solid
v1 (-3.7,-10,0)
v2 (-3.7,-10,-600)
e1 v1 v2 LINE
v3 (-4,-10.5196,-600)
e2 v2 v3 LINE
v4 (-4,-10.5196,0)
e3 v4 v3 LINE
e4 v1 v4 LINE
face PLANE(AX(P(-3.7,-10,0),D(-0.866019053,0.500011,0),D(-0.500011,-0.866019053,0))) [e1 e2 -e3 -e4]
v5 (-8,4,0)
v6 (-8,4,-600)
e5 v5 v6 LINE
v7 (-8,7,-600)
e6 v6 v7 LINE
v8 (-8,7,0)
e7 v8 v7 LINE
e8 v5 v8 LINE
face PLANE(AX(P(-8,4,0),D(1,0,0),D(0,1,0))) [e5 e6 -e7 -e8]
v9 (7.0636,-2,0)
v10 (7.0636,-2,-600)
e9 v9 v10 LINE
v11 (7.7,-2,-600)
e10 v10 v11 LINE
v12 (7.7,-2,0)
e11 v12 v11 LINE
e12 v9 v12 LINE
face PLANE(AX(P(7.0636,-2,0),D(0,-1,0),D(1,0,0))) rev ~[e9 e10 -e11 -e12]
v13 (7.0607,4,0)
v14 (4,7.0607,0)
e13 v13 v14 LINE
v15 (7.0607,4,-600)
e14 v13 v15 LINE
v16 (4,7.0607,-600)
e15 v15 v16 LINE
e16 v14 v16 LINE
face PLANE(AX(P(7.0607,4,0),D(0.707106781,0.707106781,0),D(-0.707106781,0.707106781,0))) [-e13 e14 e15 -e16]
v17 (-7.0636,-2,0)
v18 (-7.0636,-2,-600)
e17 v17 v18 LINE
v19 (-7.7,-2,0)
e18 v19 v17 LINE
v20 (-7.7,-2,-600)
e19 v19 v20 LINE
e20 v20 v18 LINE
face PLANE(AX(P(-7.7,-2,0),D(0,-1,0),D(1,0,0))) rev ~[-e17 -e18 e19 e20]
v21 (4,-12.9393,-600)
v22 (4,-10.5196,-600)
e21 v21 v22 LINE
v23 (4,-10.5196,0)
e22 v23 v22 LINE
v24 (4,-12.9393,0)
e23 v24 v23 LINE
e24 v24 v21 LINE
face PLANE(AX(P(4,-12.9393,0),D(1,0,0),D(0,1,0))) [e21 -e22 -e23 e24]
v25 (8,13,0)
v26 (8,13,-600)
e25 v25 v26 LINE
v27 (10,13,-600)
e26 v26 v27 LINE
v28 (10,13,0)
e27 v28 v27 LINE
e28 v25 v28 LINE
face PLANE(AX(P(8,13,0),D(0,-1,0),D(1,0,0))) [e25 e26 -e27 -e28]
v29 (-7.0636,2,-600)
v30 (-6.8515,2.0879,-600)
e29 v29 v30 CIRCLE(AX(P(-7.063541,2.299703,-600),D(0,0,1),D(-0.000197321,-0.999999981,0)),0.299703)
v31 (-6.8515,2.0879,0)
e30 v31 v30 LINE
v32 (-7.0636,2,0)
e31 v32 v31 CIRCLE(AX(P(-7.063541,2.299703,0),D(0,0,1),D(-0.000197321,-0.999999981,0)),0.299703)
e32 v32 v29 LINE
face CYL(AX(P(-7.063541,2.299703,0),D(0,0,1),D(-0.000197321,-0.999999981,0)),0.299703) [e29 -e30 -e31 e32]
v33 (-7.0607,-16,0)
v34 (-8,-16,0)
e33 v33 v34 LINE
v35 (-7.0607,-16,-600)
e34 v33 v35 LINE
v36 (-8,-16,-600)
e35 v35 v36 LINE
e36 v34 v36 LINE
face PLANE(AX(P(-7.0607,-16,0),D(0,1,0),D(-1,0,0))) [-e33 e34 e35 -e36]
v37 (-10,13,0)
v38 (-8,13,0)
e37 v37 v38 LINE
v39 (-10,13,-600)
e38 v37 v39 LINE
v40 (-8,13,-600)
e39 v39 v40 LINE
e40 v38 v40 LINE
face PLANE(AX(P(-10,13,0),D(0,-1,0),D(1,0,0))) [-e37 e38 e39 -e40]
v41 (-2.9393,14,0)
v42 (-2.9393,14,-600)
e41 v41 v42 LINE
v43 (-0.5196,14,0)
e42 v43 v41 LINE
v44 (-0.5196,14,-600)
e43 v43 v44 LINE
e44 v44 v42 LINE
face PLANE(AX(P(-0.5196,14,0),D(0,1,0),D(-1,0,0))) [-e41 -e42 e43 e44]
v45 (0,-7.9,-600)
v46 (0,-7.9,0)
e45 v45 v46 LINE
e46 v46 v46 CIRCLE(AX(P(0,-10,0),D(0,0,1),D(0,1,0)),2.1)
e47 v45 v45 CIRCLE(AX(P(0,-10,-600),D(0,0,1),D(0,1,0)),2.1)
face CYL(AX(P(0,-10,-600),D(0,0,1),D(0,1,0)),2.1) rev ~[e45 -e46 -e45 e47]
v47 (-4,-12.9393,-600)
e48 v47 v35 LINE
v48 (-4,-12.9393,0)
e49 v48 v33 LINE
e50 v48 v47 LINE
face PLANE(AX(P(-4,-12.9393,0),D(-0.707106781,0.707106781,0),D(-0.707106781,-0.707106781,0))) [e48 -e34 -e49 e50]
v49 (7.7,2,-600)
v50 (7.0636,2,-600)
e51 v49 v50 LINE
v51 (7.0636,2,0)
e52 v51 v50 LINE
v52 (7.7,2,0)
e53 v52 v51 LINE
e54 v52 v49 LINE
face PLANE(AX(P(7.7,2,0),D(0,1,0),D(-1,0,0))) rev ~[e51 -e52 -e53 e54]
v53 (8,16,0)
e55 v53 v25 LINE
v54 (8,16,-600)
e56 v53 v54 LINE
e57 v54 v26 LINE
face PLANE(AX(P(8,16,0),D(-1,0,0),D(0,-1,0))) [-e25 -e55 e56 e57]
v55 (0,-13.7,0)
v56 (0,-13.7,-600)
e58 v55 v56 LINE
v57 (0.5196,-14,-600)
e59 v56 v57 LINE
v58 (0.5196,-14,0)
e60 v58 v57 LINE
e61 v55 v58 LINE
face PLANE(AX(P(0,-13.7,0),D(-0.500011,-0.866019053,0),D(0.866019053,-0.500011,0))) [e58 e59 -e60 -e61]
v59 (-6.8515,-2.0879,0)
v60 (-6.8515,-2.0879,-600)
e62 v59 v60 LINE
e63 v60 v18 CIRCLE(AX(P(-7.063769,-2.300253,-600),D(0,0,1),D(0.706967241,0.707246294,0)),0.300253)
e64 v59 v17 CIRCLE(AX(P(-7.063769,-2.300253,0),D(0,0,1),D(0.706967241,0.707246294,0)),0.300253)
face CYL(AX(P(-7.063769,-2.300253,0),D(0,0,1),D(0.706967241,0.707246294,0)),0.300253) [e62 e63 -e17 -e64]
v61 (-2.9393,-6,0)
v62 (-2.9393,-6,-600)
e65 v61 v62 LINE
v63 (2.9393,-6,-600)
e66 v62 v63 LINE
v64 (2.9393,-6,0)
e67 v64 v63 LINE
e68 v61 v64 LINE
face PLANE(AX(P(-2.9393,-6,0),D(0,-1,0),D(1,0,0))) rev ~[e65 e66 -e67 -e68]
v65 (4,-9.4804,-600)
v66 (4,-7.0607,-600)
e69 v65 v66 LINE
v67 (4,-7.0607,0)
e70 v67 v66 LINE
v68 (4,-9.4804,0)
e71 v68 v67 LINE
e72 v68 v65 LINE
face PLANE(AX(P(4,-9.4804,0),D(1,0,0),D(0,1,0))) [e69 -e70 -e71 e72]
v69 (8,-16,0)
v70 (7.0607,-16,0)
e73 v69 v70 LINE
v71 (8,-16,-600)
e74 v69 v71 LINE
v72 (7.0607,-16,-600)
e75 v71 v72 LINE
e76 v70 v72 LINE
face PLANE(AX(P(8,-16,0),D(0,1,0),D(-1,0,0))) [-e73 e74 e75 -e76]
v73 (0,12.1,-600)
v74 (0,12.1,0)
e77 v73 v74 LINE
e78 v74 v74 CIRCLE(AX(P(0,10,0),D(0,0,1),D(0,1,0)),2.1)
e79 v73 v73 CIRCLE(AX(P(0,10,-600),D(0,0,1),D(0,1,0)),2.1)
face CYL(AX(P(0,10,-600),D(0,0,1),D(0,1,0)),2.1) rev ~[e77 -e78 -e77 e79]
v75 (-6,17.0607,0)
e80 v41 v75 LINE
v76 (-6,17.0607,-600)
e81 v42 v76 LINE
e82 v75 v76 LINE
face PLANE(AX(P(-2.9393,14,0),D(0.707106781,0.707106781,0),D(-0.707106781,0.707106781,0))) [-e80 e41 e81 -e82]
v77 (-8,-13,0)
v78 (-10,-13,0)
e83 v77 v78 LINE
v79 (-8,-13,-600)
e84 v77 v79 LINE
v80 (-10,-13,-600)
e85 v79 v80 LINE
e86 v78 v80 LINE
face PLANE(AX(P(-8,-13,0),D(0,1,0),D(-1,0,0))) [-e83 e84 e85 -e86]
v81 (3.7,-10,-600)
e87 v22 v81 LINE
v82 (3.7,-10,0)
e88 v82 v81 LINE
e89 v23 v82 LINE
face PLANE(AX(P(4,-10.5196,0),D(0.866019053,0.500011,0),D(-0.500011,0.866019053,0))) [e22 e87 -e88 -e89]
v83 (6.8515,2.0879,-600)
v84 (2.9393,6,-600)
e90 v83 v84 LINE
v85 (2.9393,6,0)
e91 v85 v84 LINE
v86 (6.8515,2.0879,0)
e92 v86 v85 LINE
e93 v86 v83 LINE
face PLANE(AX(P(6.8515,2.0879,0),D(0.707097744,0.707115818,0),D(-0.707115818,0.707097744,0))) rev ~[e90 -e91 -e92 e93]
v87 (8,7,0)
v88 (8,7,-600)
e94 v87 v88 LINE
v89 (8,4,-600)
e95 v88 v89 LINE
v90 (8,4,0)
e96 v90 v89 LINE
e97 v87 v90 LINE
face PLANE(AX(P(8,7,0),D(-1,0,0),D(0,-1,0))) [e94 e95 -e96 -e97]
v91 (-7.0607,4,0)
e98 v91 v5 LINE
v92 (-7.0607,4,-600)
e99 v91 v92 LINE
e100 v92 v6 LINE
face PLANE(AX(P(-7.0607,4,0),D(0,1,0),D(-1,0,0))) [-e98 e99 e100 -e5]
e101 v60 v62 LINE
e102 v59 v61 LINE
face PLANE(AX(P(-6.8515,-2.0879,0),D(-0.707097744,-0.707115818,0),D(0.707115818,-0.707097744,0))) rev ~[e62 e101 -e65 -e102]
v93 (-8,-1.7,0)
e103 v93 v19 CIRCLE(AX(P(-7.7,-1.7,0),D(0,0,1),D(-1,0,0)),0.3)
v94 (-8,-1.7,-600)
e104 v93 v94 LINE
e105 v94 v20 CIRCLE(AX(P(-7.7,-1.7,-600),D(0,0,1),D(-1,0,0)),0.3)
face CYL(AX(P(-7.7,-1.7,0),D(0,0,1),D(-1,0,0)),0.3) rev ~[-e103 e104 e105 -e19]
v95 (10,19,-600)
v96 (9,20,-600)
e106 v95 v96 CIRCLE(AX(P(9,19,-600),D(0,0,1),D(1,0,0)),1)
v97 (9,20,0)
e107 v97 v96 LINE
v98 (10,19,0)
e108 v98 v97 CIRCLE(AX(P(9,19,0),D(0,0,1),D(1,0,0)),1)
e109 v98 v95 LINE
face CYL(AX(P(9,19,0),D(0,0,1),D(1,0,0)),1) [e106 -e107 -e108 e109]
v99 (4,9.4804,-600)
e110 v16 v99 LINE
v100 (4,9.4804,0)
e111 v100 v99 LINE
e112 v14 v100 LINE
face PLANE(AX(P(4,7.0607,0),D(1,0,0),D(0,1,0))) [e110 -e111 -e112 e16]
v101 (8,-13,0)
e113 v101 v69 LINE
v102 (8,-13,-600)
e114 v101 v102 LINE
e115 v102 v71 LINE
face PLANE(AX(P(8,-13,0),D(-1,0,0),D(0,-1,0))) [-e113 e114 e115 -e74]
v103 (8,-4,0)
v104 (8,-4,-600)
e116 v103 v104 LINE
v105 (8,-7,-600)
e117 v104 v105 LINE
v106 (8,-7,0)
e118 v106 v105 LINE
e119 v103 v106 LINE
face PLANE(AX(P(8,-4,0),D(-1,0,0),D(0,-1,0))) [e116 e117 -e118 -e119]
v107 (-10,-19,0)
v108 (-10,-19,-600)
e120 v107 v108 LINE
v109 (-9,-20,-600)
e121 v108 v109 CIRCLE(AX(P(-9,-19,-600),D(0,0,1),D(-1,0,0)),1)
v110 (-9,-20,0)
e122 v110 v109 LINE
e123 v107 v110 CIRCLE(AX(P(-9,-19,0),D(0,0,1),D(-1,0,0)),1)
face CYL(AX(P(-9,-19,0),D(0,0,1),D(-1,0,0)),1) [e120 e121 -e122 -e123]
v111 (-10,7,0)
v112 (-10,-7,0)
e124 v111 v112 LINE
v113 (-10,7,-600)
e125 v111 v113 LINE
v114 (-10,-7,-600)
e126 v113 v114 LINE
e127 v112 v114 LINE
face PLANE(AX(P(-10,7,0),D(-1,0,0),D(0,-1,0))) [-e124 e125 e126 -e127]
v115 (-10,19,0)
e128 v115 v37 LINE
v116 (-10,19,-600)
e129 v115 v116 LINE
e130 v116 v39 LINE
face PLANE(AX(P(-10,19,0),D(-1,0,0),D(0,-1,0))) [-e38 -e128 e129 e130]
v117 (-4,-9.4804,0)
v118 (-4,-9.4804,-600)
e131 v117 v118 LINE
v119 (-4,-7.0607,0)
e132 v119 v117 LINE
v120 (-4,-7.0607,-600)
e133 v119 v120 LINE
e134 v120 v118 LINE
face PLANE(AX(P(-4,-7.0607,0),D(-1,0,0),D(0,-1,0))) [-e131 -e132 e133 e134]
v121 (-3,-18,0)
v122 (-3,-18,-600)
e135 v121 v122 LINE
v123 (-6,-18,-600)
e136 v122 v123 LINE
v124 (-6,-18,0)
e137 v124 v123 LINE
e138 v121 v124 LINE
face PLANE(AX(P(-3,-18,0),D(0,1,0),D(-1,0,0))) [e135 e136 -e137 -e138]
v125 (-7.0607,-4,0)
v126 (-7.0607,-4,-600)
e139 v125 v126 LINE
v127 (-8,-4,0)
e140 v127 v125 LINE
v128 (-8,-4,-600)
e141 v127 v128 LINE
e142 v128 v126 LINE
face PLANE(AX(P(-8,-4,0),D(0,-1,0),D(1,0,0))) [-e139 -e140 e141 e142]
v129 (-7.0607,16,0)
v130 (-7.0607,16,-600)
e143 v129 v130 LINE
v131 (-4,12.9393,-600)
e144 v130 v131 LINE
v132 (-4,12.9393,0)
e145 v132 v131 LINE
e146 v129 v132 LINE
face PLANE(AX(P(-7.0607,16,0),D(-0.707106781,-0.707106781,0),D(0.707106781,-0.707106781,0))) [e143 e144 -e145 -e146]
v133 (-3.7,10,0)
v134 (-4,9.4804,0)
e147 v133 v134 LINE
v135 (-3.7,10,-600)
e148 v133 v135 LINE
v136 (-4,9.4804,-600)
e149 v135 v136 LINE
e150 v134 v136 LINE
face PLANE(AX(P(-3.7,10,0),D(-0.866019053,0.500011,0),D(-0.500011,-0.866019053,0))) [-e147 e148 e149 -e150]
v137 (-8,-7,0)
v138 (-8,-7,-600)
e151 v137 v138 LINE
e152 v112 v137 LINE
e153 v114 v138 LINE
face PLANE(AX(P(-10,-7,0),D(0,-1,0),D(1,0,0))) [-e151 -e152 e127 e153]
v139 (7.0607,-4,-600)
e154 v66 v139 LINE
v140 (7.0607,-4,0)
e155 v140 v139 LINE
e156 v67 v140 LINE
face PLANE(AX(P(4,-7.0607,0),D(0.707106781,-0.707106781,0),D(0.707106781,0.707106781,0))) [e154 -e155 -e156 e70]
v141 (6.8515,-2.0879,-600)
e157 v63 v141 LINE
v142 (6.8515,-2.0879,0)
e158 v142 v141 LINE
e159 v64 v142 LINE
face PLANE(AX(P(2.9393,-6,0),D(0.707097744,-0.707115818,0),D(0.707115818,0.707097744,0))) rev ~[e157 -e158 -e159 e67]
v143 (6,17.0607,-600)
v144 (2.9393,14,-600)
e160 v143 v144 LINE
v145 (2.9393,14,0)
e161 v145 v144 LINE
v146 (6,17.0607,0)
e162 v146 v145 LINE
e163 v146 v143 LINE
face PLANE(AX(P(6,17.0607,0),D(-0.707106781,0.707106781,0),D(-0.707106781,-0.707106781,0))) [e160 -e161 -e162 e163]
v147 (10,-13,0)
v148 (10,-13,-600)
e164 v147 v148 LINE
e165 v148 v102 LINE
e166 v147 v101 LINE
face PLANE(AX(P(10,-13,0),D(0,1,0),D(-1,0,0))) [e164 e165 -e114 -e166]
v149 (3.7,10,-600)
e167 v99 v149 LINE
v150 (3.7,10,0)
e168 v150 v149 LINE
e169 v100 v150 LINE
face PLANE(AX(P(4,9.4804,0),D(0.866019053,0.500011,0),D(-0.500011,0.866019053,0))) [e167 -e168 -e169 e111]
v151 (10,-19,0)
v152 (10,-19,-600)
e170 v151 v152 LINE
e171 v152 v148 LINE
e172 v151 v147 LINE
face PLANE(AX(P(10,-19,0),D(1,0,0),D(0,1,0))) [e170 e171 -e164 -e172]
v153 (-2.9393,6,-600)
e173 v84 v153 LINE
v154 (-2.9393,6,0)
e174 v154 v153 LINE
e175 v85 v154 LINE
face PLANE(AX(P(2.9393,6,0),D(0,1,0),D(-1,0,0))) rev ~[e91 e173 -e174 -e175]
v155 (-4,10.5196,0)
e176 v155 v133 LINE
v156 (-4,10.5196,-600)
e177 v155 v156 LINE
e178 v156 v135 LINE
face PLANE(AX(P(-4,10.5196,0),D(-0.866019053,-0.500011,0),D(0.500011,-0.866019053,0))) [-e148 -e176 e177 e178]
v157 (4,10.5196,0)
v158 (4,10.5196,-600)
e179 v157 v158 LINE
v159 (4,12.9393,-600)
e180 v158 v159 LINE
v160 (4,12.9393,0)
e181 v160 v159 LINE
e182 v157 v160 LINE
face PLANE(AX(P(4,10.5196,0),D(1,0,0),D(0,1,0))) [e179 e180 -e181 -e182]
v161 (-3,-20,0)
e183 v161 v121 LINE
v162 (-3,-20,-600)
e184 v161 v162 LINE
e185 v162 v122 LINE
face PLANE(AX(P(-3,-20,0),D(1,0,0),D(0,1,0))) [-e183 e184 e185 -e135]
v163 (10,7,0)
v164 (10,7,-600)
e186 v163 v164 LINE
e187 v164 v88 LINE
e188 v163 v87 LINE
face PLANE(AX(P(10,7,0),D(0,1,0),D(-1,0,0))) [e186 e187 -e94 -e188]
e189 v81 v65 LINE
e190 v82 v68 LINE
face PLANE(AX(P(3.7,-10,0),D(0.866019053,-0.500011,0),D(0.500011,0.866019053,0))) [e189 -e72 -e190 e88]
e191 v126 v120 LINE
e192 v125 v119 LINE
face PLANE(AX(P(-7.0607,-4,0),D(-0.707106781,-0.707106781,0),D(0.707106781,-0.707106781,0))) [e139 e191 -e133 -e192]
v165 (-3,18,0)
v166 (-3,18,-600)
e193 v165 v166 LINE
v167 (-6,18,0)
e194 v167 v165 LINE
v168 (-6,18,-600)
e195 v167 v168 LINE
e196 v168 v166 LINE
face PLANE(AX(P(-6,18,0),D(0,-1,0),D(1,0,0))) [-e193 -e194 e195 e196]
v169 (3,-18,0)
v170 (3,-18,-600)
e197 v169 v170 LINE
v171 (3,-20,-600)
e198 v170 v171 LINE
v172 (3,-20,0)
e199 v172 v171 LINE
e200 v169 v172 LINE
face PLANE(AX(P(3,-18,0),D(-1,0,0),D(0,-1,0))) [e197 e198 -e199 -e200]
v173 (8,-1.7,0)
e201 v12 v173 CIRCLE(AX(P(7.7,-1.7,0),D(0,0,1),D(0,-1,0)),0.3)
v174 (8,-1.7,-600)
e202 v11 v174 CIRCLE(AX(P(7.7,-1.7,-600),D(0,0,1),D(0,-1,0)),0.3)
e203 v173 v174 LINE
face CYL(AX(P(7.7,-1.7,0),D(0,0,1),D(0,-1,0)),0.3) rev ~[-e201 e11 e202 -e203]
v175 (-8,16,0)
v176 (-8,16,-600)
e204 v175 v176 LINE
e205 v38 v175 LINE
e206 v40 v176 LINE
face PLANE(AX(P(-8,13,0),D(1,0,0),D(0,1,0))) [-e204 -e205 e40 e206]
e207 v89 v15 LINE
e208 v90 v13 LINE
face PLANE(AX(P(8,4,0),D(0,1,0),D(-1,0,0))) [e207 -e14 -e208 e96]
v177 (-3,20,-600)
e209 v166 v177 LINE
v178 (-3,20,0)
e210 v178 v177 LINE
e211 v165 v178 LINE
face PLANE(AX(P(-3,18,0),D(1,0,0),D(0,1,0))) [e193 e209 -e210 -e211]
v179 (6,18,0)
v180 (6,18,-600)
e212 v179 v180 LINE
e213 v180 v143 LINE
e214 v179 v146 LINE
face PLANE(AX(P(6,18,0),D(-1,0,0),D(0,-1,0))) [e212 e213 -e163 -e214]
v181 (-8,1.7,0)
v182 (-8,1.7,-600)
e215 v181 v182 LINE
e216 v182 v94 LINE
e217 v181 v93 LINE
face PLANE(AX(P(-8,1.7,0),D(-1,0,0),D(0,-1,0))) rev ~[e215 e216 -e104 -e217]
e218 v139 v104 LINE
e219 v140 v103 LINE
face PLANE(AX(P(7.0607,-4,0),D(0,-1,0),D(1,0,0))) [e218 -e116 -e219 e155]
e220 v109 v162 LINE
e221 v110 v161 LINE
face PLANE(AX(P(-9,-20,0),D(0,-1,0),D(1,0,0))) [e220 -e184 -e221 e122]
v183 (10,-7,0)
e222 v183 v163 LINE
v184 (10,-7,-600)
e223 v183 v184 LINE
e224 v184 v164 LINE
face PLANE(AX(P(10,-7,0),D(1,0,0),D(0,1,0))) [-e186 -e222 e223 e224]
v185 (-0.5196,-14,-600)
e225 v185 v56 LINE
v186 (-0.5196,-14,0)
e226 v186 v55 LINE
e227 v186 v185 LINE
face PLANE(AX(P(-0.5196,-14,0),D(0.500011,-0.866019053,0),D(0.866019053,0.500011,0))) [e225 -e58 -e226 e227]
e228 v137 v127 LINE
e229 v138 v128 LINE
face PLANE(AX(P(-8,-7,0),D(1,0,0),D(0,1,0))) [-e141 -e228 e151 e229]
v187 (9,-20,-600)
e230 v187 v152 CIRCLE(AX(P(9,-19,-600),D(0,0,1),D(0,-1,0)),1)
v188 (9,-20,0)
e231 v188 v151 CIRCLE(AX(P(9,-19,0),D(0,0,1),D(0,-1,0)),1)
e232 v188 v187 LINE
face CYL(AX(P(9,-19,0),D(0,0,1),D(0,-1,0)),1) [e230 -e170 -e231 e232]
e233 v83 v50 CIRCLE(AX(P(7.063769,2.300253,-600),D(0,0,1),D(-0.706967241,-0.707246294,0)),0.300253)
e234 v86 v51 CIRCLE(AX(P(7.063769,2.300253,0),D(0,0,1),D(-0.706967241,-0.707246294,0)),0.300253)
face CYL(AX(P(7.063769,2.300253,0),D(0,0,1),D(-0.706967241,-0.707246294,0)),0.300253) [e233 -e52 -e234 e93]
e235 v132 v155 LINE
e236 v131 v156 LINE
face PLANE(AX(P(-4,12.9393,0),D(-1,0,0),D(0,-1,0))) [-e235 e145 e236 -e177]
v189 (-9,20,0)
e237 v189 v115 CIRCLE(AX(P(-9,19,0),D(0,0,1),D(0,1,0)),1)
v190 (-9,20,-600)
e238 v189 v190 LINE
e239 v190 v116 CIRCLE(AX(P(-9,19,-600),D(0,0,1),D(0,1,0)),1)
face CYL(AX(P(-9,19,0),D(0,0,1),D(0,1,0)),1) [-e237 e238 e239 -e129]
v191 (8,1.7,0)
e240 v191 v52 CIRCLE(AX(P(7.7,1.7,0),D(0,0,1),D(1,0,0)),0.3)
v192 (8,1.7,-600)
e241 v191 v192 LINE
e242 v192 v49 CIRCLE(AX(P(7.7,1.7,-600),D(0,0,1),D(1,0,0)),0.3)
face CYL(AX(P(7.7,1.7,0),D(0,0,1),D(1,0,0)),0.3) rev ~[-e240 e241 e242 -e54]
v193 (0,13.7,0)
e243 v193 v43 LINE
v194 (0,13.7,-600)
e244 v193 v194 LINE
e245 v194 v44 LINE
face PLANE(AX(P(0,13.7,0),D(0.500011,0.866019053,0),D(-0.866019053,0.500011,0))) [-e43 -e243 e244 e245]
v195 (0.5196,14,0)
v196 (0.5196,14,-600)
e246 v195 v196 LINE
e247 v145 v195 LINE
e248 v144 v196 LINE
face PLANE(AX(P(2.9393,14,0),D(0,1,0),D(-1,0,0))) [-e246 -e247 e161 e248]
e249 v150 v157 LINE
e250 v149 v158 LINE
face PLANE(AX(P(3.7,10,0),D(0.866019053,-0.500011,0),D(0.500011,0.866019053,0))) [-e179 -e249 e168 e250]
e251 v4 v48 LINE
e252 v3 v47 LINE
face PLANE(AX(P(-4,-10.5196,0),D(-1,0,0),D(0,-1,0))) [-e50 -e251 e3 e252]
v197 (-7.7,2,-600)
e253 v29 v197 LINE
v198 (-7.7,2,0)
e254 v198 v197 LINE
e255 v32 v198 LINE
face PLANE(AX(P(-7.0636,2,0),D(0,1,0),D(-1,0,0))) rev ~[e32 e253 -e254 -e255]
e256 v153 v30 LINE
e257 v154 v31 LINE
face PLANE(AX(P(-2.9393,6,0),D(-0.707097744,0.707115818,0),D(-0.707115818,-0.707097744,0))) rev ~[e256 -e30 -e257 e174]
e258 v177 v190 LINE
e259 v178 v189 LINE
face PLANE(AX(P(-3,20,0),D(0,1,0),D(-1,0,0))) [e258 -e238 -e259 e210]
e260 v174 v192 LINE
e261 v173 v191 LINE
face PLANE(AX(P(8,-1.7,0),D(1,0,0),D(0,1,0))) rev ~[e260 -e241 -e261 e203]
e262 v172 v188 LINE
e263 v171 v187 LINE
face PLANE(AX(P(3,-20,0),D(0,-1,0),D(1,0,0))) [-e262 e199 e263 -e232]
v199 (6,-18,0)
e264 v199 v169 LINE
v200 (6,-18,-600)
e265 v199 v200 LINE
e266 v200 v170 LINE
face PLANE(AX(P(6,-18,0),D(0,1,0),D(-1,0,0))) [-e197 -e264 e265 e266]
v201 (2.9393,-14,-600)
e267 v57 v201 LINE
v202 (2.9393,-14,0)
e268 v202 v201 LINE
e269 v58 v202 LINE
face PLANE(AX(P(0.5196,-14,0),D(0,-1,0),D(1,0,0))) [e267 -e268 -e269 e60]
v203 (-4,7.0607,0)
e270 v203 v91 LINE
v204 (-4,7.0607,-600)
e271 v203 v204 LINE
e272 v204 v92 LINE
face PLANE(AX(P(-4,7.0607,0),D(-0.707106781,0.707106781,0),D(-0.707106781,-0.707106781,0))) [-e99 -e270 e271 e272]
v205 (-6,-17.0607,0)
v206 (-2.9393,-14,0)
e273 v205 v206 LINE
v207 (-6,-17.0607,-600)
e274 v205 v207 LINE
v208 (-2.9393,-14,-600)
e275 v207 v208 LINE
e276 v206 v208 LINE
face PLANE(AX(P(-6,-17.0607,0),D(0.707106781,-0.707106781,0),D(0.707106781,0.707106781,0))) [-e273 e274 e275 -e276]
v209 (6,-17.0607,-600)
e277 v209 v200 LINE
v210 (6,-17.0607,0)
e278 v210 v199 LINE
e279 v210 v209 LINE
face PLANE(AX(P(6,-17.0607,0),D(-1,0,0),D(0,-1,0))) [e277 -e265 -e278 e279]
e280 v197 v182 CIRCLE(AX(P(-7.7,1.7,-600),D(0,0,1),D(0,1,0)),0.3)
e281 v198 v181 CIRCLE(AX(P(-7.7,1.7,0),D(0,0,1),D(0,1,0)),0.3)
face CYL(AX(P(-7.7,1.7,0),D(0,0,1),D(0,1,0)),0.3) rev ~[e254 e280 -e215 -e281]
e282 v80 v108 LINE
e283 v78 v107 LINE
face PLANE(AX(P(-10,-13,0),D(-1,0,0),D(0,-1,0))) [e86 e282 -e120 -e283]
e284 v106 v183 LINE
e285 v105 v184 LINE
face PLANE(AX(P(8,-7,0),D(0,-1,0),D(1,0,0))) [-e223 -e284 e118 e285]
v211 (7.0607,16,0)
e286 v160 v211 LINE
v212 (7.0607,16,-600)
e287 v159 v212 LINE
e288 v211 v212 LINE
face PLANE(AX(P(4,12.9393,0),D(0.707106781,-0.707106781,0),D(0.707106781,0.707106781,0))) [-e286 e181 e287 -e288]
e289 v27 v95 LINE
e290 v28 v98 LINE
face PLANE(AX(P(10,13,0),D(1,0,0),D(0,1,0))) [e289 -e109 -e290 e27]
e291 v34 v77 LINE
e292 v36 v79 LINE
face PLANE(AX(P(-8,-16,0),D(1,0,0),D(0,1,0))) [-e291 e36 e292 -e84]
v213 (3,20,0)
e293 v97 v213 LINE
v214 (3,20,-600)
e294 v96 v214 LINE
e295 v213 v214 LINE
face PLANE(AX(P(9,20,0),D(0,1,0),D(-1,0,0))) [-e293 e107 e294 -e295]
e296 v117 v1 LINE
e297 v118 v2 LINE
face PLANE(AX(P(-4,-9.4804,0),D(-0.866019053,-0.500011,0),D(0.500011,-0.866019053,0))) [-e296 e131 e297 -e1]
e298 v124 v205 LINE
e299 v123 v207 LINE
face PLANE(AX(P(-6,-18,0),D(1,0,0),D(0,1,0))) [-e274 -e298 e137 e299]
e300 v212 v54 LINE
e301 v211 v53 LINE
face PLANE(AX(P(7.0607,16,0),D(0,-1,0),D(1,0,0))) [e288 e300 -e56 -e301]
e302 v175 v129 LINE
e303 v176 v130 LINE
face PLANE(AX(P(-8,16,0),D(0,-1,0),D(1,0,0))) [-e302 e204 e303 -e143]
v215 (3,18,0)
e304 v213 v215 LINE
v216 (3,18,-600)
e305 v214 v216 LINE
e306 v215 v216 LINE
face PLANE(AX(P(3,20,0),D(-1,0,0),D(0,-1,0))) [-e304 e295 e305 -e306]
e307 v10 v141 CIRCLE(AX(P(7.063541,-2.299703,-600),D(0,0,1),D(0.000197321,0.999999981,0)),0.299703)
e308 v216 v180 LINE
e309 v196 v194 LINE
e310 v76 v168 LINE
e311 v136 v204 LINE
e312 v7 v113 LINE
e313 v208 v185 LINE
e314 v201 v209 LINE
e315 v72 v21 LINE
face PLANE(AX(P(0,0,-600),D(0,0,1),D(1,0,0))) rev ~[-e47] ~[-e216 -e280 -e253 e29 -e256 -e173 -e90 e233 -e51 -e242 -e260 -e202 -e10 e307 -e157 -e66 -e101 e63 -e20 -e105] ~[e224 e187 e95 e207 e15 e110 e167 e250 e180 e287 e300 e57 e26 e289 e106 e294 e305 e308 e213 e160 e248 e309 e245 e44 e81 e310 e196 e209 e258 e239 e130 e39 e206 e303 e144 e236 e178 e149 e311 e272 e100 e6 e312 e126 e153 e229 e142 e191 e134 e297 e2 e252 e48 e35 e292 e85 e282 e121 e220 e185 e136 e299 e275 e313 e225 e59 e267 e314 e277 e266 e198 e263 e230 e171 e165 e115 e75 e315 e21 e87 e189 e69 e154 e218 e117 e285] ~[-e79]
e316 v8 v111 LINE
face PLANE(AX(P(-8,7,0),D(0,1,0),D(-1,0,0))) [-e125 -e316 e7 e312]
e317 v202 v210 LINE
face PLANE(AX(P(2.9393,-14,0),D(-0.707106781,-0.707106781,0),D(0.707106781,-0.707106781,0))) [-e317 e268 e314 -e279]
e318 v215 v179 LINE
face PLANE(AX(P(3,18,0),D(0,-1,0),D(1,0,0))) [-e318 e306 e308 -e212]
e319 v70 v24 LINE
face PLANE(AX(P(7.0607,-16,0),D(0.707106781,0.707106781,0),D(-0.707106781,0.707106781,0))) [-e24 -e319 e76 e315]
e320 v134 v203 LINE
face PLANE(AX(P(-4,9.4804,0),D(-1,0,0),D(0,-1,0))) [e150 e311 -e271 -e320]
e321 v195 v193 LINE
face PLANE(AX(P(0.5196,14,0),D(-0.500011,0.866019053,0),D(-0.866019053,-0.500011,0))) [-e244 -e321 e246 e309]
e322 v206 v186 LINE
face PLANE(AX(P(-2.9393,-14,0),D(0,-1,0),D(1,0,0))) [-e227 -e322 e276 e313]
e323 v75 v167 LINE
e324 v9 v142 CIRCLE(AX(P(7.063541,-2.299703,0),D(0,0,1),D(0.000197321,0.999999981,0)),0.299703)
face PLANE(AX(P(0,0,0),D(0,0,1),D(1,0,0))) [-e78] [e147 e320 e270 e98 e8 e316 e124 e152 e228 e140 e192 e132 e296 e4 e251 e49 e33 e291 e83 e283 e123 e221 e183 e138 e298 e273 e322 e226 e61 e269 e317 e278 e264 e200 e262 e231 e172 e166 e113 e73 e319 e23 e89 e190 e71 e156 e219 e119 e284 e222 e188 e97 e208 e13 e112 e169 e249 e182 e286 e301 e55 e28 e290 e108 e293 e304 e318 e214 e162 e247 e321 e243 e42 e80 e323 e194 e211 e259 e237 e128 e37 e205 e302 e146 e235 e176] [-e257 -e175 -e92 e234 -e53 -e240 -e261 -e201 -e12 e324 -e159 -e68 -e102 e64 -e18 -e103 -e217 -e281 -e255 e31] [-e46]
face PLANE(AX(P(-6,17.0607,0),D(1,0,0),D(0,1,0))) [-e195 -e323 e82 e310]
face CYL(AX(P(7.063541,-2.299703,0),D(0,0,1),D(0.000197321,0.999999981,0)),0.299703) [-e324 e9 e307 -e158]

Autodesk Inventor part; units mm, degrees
sketch "Sketch_1" plane through (0, 0, 0) normal (0, 0, 1) x (1, 0, 0)
  line L0 (-10, -7) -> (-8, -7)
  line L1 (-8, -7) -> (-8, -4)
  line L2 (-8, -4) -> (-7.0607, -4)
  line L3 (-7.0607, -4) -> (-4, -7.0607)
  line L4 (-4, -7.0607) -> (-4, -9.4804)
  line L5 (-4, -9.4804) -> (-3.7, -10)
  line L6 (-3.7, -10) -> (-4, -10.5196)
  line L7 (-4, -10.5196) -> (-4, -12.9393)
  line L8 (-4, -12.9393) -> (-7.0607, -16)
  line L9 (-7.0607, -16) -> (-8, -16)
  line L10 (-8, -16) -> (-8, -13)
  line L11 (-8, -13) -> (-10, -13)
  line L12 (-10, -13) -> (-10, -19)
  arc A0 (-10, -19) -> (-9, -20) centre (-9, -19) ccw
  line L13 (-9, -20) -> (-3, -20)
  line L14 (-3, -20) -> (-3, -18)
  line L15 (-3, -18) -> (-6, -18)
  line L16 (-6, -18) -> (-6, -17.0607)
  line L17 (-6, -17.0607) -> (-2.9393, -14)
  line L18 (-2.9393, -14) -> (-0.5196, -14)
  line L19 (-0.5196, -14) -> (0, -13.7)
  line L20 (0, -13.7) -> (0.5196, -14)
  line L21 (0.5196, -14) -> (2.9393, -14)
  line L22 (2.9393, -14) -> (6, -17.0607)
  line L23 (6, -17.0607) -> (6, -18)
  line L24 (6, -18) -> (3, -18)
  line L25 (3, -18) -> (3, -20)
  line L26 (3, -20) -> (9, -20)
  arc A1 (9, -20) -> (10, -19) centre (9, -19) ccw
  line L27 (10, -19) -> (10, -13)
  line L28 (10, -13) -> (8, -13)
  line L29 (8, -13) -> (8, -16)
  line L30 (8, -16) -> (7.0607, -16)
  line L31 (7.0607, -16) -> (4, -12.9393)
  line L32 (4, -12.9393) -> (4, -10.5196)
  line L33 (4, -10.5196) -> (3.7, -10)
  line L34 (3.7, -10) -> (4, -9.4804)
  line L35 (4, -9.4804) -> (4, -7.0607)
  line L36 (4, -7.0607) -> (7.0607, -4)
  line L37 (7.0607, -4) -> (8, -4)
  line L38 (8, -4) -> (8, -7)
  line L39 (8, -7) -> (10, -7)
  line L40 (10, -7) -> (10, 7)
  line L41 (10, 7) -> (8, 7)
  line L42 (8, 7) -> (8, 4)
  line L43 (8, 4) -> (7.0607, 4)
  line L44 (7.0607, 4) -> (4, 7.0607)
  line L45 (4, 7.0607) -> (4, 9.4804)
  line L46 (4, 9.4804) -> (3.7, 10)
  line L47 (3.7, 10) -> (4, 10.5196)
  line L48 (4, 10.5196) -> (4, 12.9393)
  line L49 (4, 12.9393) -> (7.0607, 16)
  line L50 (7.0607, 16) -> (8, 16)
  line L51 (8, 16) -> (8, 13)
  line L52 (8, 13) -> (10, 13)
  line L53 (10, 13) -> (10, 19)
  arc A2 (10, 19) -> (9, 20) centre (9, 19) ccw
  line L54 (9, 20) -> (3, 20)
  line L55 (3, 20) -> (3, 18)
  line L56 (3, 18) -> (6, 18)
  line L57 (6, 18) -> (6, 17.0607)
  line L58 (6, 17.0607) -> (2.9393, 14)
  line L59 (2.9393, 14) -> (0.5196, 14)
  line L60 (0.5196, 14) -> (0, 13.7)
  line L61 (0, 13.7) -> (-0.5196, 14)
  line L62 (-0.5196, 14) -> (-2.9393, 14)
  line L63 (-2.9393, 14) -> (-6, 17.0607)
  line L64 (-6, 17.0607) -> (-6, 18)
  line L65 (-6, 18) -> (-3, 18)
  line L66 (-3, 18) -> (-3, 20)
  line L67 (-3, 20) -> (-9, 20)
  arc A3 (-9, 20) -> (-10, 19) centre (-9, 19) ccw
  line L68 (-10, 19) -> (-10, 13)
  line L69 (-10, 13) -> (-8, 13)
  line L70 (-8, 13) -> (-8, 16)
  line L71 (-8, 16) -> (-7.0607, 16)
  line L72 (-7.0607, 16) -> (-4, 12.9393)
  line L73 (-4, 12.9393) -> (-4, 10.5196)
  line L74 (-4, 10.5196) -> (-3.7, 10)
  line L75 (-3.7, 10) -> (-4, 9.4804)
  line L76 (-4, 9.4804) -> (-4, 7.0607)
  line L77 (-4, 7.0607) -> (-7.0607, 4)
  line L78 (-7.0607, 4) -> (-8, 4)
  line L79 (-8, 4) -> (-8, 7)
  line L80 (-8, 7) -> (-10, 7)
  line L81 (-10, 7) -> (-10, -7)
  line L82 (-8, 1.7) -> (-8, -1.7)
  arc A4 (-8, -1.7) -> (-7.7, -2) centre (-7.7, -1.7) ccw
  line L83 (-7.7, -2) -> (-7.0636, -2)
  arc A5 (-6.8515, -2.0879) -> (-7.0636, -2) centre (-7.0636, -2.3) ccw
  line L84 (-6.8515, -2.0879) -> (-2.9393, -6)
  line L85 (-2.9393, -6) -> (2.9393, -6)
  line L86 (2.9393, -6) -> (6.8515, -2.0879)
  arc A6 (7.0636, -2) -> (6.8515, -2.0879) centre (7.0636, -2.3) ccw
  line L87 (7.0636, -2) -> (7.7, -2)
  arc A7 (7.7, -2) -> (8, -1.7) centre (7.7, -1.7) ccw
  line L88 (8, -1.7) -> (8, 1.7)
  arc A8 (8, 1.7) -> (7.7, 2) centre (7.7, 1.7) ccw
  line L89 (7.7, 2) -> (7.0636, 2)
  arc A9 (6.8515, 2.0879) -> (7.0636, 2) centre (7.0636, 2.3) ccw
  line L90 (6.8515, 2.0879) -> (2.9393, 6)
  line L91 (2.9393, 6) -> (-2.9393, 6)
  line L92 (-2.9393, 6) -> (-6.8515, 2.0879)
  arc A10 (-7.0636, 2) -> (-6.8515, 2.0879) centre (-7.0636, 2.3) ccw
  line L93 (-7.0636, 2) -> (-7.7, 2)
  arc A11 (-7.7, 2) -> (-8, 1.7) centre (-7.7, 1.7) ccw
extrude "Extrusion1" add sketch "Sketch_1" against normal blind 600
sketch "Sketch2" plane through (0, 0, -600) normal (0, 0, -1) x (-1, 0, 0)
  point P0 (0, 10)
hole "Hole1" at (0, 10, -600) direction (0, 0, 1) diameter 4.2 depth 600
pattern_linear "Rectangular Pattern1" count 2 spacing 20 along (0, -1, 0) of "Hole1"
ref_plane "C1_XY" through (0, 0, 0) normal (0, 0, 1) x (1, 0, 0)
ref_plane "C1_YZ" through (0, 0, 0) normal (1, 0, 0) x (0, 1, 0)
ref_plane "C1_ZX" through (0, 0, 0) normal (0, 1, 0) x (0, 0, 1)
properties part number "HFS5-2040-600"
